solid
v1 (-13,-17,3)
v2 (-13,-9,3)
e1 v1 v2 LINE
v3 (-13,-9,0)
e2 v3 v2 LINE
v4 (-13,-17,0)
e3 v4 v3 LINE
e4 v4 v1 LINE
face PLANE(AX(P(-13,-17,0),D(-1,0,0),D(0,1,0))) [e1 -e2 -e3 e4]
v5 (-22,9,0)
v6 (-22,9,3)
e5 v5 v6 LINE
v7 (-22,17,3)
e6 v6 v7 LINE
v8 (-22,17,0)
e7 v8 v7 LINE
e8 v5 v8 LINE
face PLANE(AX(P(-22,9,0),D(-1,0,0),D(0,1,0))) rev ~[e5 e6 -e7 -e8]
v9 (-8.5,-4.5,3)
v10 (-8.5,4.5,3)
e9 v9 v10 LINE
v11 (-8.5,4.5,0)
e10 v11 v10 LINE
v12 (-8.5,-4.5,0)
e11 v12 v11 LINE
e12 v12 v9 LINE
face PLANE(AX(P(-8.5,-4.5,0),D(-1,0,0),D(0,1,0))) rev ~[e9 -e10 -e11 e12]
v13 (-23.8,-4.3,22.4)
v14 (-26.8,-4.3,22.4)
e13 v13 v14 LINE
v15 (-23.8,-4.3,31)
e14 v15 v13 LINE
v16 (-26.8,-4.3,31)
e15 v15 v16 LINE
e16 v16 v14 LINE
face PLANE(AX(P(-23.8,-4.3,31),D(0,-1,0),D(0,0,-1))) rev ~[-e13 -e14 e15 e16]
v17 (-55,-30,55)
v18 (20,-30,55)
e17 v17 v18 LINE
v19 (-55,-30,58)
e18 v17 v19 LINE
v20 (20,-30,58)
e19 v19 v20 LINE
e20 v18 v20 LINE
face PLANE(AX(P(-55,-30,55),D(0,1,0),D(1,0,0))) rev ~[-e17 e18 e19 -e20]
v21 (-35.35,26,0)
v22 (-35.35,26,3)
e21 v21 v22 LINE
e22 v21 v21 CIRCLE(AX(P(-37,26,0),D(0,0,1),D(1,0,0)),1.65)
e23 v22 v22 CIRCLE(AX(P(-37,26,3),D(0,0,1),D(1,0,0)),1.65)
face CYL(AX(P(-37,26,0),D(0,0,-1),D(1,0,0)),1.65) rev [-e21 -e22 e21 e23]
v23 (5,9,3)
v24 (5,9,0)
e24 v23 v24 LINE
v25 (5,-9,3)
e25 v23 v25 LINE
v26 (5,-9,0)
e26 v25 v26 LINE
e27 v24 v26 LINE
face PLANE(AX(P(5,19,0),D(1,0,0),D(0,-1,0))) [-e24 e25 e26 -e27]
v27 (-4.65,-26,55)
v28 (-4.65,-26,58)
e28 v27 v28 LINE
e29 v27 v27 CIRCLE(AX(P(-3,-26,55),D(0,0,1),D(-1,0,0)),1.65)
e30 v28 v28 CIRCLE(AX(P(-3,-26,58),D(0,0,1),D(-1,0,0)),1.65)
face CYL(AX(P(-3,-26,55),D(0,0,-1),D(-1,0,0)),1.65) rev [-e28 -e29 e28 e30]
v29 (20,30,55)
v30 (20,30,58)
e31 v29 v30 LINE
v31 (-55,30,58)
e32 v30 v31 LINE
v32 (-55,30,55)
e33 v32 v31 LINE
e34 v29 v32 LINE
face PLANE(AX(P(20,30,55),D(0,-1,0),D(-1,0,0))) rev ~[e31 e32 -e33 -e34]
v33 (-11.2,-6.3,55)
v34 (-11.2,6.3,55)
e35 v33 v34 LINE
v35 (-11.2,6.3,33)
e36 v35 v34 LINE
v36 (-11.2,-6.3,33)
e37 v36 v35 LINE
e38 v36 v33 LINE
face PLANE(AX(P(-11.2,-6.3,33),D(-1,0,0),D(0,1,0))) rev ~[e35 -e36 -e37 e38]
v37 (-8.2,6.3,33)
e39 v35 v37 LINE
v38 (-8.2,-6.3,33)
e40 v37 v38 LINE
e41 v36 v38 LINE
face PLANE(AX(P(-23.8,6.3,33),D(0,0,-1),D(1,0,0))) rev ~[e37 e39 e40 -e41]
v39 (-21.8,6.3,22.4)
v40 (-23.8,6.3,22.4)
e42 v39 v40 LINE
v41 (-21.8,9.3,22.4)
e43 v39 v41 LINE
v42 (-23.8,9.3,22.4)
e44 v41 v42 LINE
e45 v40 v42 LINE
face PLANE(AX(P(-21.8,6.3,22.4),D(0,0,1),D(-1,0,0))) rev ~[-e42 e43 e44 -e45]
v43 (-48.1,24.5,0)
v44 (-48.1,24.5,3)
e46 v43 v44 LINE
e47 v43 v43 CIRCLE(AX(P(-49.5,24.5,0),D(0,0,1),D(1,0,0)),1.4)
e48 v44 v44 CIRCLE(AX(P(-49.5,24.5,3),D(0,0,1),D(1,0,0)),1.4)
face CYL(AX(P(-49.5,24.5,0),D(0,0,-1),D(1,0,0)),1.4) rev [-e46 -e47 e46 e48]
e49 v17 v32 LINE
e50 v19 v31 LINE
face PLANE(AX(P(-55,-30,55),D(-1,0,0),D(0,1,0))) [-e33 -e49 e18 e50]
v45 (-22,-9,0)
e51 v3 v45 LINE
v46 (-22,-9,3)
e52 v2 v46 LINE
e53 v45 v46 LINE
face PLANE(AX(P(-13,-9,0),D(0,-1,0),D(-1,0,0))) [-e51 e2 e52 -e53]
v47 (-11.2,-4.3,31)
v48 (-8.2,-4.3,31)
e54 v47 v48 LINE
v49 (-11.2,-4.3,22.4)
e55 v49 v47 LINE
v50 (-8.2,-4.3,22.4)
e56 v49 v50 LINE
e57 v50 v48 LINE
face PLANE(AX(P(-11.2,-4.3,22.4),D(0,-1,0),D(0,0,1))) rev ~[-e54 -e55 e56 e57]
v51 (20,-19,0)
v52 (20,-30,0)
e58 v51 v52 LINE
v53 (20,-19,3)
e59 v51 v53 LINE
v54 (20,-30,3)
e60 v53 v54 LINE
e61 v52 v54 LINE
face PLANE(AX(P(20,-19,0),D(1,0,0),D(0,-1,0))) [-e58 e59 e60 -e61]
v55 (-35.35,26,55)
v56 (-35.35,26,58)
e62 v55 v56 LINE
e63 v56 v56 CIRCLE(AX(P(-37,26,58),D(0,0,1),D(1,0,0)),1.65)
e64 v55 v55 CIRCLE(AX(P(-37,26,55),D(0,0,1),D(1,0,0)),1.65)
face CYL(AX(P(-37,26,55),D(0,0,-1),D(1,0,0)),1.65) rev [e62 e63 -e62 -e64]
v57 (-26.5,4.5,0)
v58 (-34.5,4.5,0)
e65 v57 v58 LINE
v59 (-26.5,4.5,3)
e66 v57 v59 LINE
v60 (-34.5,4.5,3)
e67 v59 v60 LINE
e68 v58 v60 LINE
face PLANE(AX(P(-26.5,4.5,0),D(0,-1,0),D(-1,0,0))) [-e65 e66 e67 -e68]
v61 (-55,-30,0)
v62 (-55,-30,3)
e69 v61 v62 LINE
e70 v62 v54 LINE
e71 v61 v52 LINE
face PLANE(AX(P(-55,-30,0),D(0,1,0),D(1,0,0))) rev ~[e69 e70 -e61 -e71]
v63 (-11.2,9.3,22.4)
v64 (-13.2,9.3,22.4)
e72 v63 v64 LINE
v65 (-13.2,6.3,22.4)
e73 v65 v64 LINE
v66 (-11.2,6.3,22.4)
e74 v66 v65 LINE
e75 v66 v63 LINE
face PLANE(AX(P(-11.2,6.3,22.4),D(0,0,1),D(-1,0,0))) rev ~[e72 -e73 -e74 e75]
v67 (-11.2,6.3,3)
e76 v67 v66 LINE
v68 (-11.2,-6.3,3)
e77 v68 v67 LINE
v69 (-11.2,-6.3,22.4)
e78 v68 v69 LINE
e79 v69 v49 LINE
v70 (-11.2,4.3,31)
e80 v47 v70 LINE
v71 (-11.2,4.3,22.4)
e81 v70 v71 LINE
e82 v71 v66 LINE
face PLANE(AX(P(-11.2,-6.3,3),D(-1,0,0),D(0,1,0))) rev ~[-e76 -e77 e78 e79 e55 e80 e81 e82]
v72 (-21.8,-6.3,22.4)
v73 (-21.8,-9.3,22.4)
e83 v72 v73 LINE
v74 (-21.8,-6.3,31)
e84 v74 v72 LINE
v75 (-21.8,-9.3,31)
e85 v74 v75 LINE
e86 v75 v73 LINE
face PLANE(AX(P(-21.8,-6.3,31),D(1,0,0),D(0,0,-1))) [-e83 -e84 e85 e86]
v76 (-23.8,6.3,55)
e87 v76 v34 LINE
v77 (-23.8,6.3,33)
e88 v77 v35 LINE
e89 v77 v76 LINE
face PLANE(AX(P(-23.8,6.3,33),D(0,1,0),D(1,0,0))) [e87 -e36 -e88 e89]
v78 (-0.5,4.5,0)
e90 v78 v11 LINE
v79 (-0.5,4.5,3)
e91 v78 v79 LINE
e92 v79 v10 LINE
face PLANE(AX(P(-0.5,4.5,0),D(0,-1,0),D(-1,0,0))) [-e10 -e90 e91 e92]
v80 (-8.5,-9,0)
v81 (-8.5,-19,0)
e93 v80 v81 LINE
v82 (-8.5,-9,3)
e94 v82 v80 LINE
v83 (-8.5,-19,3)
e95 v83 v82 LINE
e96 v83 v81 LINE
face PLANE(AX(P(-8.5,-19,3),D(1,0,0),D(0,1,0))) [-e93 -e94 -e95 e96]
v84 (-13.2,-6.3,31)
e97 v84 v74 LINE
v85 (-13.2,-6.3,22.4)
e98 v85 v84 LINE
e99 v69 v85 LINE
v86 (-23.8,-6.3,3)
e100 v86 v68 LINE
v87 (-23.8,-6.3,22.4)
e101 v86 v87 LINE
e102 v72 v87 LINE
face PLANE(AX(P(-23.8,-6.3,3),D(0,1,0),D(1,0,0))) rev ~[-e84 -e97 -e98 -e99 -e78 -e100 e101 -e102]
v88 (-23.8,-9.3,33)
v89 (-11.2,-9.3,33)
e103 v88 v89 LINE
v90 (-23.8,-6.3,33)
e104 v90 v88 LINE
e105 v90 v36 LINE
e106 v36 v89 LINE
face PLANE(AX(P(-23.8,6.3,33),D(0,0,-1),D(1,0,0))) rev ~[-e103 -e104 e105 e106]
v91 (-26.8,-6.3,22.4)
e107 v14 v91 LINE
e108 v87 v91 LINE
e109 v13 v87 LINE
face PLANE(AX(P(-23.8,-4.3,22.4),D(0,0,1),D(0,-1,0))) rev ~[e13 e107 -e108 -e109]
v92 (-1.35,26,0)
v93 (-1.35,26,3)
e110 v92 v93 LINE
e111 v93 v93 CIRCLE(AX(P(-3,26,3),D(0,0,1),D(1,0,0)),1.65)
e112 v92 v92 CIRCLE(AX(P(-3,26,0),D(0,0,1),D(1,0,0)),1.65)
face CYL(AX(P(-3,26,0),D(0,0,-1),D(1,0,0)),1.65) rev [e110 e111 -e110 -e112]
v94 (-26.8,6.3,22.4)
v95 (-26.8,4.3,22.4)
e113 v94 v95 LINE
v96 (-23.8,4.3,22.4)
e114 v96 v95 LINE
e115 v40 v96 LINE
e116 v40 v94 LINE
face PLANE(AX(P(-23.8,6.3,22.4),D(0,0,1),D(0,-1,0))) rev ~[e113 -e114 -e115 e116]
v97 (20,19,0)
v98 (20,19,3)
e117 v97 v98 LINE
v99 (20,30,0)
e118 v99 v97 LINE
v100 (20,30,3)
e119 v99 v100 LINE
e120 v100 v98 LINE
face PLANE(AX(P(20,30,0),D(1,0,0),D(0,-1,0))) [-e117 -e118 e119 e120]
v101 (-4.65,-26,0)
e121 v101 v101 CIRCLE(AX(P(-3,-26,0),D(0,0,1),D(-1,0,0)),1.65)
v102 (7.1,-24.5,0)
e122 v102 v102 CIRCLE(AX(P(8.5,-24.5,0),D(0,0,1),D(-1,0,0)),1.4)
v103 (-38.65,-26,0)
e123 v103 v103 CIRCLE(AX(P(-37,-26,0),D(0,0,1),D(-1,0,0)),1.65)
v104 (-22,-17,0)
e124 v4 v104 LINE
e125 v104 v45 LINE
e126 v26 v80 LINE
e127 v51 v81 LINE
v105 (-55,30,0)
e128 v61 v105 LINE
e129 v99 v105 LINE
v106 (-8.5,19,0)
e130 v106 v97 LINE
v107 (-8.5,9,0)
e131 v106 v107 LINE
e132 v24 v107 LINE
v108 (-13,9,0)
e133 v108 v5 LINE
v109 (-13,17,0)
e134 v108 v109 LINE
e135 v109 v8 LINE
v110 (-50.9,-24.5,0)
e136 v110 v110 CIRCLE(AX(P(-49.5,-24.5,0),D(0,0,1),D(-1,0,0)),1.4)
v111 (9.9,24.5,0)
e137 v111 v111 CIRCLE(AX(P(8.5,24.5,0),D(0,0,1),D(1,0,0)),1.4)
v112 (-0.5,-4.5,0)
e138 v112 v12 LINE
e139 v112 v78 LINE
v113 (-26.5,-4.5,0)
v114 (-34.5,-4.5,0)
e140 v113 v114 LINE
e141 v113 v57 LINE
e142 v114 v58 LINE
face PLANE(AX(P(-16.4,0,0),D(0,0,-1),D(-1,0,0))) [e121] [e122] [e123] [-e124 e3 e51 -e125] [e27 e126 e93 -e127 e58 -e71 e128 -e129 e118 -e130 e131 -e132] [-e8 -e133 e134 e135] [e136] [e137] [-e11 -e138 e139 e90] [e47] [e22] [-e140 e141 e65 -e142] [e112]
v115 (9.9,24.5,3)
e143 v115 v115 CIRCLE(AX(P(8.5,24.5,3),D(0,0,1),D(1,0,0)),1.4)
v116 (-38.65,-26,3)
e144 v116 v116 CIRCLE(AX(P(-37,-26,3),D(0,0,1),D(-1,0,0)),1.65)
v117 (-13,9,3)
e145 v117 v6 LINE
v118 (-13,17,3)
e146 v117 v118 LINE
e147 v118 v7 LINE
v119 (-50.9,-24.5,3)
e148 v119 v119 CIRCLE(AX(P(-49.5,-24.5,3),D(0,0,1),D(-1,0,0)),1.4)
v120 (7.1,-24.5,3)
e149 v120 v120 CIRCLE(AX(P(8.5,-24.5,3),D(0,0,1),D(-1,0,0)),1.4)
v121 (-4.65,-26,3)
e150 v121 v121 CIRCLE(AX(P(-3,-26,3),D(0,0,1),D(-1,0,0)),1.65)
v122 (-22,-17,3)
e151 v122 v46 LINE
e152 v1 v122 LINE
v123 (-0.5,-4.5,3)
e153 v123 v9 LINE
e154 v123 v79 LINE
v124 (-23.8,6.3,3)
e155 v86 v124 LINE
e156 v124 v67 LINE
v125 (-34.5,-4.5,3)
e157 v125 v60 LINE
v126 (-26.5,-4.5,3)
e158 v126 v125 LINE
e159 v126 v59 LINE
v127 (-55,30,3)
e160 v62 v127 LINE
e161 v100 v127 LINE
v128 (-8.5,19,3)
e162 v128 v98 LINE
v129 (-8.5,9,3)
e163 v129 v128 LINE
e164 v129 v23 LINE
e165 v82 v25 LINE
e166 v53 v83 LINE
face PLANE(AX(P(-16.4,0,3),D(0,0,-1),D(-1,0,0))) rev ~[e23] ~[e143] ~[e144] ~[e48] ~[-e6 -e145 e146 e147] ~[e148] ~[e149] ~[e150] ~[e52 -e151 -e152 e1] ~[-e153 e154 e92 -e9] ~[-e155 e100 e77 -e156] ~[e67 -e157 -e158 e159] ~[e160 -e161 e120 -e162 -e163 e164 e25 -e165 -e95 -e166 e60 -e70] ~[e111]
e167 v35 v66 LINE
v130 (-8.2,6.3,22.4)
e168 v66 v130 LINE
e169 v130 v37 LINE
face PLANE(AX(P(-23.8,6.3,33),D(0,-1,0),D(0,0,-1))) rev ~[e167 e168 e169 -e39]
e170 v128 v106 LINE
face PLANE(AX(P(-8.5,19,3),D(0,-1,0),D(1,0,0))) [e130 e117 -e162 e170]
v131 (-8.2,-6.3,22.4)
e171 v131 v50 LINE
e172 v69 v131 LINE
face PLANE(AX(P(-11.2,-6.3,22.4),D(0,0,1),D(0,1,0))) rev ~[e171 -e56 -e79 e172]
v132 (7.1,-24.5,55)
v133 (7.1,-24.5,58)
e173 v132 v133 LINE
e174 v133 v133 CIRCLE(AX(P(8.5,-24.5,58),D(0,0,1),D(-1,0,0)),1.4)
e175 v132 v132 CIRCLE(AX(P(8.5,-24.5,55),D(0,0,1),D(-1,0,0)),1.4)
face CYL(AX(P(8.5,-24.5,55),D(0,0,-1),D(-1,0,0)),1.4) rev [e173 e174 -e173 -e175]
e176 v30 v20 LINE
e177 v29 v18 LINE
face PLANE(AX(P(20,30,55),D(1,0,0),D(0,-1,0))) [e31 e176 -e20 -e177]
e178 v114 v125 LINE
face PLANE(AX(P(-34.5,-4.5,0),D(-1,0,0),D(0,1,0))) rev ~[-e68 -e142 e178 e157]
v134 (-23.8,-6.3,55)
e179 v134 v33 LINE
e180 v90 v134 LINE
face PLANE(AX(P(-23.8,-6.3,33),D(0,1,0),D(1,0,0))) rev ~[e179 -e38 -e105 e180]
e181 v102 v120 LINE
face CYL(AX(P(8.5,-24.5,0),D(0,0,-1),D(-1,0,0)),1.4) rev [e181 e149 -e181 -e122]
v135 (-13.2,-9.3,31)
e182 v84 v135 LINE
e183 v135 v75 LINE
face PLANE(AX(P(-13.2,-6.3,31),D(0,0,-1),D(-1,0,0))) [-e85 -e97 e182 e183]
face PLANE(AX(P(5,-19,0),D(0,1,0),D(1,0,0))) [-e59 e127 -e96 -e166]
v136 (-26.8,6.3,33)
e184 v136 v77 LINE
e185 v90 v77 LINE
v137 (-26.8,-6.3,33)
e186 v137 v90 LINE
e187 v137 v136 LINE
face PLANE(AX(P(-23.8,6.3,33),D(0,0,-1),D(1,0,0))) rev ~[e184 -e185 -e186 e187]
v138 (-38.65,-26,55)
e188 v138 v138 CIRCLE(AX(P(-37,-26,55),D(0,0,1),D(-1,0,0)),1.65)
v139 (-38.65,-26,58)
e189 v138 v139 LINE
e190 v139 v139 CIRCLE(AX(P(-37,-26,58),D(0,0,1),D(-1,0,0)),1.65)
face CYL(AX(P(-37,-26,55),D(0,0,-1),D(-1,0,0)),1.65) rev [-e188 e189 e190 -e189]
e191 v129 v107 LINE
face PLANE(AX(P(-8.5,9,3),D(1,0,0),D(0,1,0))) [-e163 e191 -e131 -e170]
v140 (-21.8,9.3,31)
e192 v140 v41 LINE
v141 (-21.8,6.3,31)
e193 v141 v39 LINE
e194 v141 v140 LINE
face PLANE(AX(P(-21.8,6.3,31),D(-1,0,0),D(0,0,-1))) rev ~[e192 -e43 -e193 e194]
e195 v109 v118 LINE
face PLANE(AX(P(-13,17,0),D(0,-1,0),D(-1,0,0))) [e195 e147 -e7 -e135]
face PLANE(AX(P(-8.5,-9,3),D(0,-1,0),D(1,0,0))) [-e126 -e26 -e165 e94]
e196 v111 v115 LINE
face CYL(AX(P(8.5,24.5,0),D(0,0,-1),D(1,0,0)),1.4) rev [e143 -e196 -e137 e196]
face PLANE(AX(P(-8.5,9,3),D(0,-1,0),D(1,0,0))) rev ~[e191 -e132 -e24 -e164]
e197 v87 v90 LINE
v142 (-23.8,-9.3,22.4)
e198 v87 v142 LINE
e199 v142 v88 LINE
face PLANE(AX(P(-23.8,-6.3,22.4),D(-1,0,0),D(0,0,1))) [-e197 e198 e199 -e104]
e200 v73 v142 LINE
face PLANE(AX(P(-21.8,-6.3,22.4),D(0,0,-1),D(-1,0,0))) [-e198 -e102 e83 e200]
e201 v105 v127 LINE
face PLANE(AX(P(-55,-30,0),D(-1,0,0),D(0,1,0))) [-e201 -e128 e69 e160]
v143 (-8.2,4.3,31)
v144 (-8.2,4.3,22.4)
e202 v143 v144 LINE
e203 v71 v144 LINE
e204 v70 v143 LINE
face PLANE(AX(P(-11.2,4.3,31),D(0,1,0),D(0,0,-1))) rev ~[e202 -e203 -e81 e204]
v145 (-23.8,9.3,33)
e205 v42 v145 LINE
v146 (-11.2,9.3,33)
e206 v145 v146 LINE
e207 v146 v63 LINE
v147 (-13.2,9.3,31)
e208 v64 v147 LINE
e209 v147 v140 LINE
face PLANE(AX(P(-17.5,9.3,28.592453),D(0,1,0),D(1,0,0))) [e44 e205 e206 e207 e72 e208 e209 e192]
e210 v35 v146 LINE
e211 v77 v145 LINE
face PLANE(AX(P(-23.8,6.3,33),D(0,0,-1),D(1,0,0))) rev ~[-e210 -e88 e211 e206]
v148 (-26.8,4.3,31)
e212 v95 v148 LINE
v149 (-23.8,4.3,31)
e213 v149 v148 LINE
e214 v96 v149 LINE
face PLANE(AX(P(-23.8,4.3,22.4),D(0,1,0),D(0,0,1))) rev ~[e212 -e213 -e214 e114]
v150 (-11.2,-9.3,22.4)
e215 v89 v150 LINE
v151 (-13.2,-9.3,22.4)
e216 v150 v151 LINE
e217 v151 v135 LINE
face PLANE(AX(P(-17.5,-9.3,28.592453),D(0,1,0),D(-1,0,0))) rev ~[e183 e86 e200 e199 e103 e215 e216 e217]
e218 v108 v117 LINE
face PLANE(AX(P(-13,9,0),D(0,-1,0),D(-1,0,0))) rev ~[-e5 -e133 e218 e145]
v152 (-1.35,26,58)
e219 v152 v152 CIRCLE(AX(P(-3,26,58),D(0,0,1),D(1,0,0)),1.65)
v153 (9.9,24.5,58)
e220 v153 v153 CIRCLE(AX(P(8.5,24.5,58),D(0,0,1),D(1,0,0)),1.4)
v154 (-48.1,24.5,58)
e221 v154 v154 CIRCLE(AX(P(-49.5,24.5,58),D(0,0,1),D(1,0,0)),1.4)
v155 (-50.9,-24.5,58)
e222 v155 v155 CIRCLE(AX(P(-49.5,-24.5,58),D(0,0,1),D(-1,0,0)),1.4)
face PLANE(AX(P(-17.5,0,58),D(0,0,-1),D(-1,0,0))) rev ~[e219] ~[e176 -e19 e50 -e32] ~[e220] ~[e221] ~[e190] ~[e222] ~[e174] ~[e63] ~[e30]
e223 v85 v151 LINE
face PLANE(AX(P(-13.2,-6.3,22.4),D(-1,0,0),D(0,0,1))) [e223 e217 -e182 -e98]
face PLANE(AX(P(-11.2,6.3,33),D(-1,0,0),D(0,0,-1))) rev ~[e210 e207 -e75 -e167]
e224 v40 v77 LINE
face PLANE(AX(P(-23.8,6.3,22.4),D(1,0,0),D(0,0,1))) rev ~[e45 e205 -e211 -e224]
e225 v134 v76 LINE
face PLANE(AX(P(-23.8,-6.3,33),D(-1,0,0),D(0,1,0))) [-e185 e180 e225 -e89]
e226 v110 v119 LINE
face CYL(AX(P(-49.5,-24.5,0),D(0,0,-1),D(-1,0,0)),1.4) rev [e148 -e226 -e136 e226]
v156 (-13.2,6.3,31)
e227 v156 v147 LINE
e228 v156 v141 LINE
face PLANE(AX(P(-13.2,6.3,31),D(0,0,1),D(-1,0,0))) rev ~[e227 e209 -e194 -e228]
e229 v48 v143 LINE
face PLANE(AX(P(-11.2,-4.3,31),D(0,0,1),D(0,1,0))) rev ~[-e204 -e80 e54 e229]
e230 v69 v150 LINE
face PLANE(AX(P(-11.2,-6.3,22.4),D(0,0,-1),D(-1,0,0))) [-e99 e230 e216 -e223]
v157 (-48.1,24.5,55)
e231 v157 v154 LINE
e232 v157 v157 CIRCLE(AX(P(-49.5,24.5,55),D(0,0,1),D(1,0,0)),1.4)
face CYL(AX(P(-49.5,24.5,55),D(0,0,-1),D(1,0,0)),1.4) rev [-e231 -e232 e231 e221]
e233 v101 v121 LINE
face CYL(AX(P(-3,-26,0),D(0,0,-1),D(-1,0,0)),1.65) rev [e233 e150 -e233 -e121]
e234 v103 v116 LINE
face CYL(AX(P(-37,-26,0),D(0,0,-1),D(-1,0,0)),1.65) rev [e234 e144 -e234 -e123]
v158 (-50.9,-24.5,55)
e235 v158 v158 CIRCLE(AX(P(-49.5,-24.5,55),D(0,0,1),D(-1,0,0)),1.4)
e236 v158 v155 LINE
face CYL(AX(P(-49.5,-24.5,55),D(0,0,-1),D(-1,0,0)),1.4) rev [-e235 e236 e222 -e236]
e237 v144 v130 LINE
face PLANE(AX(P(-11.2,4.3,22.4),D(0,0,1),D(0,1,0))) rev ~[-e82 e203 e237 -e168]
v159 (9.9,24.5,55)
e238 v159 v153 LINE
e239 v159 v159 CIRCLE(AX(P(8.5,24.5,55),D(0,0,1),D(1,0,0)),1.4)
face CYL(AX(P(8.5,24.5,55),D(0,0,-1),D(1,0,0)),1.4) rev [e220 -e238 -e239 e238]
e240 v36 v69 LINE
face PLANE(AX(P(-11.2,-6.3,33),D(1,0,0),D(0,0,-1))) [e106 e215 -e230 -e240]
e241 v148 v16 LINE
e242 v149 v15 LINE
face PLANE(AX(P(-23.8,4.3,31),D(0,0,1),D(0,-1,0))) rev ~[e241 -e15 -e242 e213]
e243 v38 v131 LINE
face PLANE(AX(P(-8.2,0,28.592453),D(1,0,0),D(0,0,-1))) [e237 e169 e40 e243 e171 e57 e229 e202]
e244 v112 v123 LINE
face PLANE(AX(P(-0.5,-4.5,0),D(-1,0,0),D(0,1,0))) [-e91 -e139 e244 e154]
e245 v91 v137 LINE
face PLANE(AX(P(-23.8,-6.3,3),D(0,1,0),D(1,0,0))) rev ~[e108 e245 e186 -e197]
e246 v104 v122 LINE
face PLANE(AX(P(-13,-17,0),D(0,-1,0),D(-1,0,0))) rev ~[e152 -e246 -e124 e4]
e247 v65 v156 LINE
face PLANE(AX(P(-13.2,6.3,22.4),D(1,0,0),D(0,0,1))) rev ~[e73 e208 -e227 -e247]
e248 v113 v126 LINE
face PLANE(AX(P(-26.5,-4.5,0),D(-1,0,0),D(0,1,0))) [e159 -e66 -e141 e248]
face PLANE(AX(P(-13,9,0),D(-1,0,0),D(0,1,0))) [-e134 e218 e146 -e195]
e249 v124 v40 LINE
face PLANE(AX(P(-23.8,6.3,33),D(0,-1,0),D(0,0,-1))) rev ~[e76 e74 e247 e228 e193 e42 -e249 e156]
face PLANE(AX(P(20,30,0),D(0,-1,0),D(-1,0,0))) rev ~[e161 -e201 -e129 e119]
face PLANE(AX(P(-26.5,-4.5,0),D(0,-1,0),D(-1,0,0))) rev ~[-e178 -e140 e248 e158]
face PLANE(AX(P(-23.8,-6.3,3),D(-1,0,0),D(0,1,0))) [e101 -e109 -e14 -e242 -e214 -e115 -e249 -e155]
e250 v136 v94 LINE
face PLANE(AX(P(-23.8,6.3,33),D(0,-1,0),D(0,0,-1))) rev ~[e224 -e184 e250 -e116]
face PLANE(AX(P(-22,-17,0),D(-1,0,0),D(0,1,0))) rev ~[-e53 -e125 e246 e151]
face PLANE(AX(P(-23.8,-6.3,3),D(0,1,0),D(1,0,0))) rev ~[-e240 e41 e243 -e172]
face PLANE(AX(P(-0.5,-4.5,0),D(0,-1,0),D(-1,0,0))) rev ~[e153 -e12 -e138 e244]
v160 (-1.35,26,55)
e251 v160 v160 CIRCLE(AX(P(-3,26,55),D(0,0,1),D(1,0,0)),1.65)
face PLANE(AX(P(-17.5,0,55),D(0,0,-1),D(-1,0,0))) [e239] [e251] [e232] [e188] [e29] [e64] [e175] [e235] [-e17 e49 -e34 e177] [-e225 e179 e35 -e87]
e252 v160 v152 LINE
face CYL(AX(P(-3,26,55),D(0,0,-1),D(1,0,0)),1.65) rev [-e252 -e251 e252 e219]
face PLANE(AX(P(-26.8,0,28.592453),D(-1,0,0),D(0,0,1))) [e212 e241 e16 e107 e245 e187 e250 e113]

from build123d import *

# Parameters (mm, degrees)
SKETCH_4_R          = 1.4
SKETCH_4_R_2        = 1.65
EXTRUDE_1_DEPTH     = 3
SKETCH_5_W          = 12.6
SKETCH_5_H          = 12.6
EXTRUDE_2_DEPTH     = 30
SKETCH_6_W          = 9
SKETCH_6_H          = 8
SKETCH_6_W_2        = 8
SKETCH_6_H_2        = 9
CUT_EXTRUDE_2_DEPTH = 71.809603868
EXTRUDE_3_DEPTH     = 3
EXTRUDE_4_DEPTH     = 3
EXTRUDE_5_DEPTH     = 3
EXTRUDE_6_DEPTH     = 3
SKETCH_13_W         = 12.6
SKETCH_13_H         = 12.6
EXTRUDE_7_DEPTH     = 22
SKETCH_14_R         = 1.4
SKETCH_14_R_2       = 1.65
EXTRUDE_8_DEPTH     = 3
SKETCH_15_W         = 13.5
SKETCH_15_H         = 10
CUT_EXTRUDE_3_DEPTH = 84.366660003


with BuildPart() as part:
    # 草图4 → 凸台-拉伸1 (new body)
    with BuildSketch(Plane.XY):
        Polygon((-39, 30), (20, 30), (20, 19), (5, 19), (5, -19), (20, -19), (20, -30), (-39, -30), (-55, -30), (-55, 30), align=None)
        with Locations((-49.5, 24.5)):
            Circle(SKETCH_4_R, mode=Mode.SUBTRACT)
        with Locations((8.5, 24.5)):
            Circle(SKETCH_4_R, mode=Mode.SUBTRACT)
        with Locations((-3, 26)):
            Circle(SKETCH_4_R_2, mode=Mode.SUBTRACT)
        with Locations((-37, 26)):
            Circle(SKETCH_4_R_2, mode=Mode.SUBTRACT)
        with Locations(Location((-37, -26, 0), (0, 0, 180))):
            Circle(SKETCH_4_R_2, mode=Mode.SUBTRACT)
        with Locations(Location((-3, -26, 0), (0, 0, 180))):
            Circle(SKETCH_4_R_2, mode=Mode.SUBTRACT)
        with Locations(Location((8.5, -24.5, 0), (0, 0, 180))):
            Circle(SKETCH_4_R, mode=Mode.SUBTRACT)
        with Locations(Location((-49.5, -24.5, 0), (0, 0, 180))):
            Circle(SKETCH_4_R, mode=Mode.SUBTRACT)
    extrude(amount=EXTRUDE_1_DEPTH)

    # 草图5 → 凸台-拉伸2 (add)
    with BuildSketch(Plane.XY.offset(3)):
        with Locations((-17.5, 0)):
            Rectangle(SKETCH_5_W, SKETCH_5_H)
    extrude(amount=EXTRUDE_2_DEPTH)

    # 草图6 → 切除-拉伸2 (cut, through all)
    with BuildSketch(Plane(origin=(0, 0, 0), x_dir=(-1, 0, 0), z_dir=(0, 0, -1))):
        with Locations((17.5, 13)):
            Rectangle(SKETCH_6_W, SKETCH_6_H)
        with Locations((30.5, 0)):
            Rectangle(SKETCH_6_W_2, SKETCH_6_H_2)
        with Locations((17.5, -13)):
            Rectangle(SKETCH_6_W, SKETCH_6_H)
        with Locations((4.5, 0)):
            Rectangle(SKETCH_6_W_2, SKETCH_6_H_2)
    extrude(amount=-CUT_EXTRUDE_2_DEPTH, mode=Mode.SUBTRACT)

    # 草图8 → 凸台-拉伸3 (add)
    with BuildSketch(Plane(origin=(-11.2, 0, 0), x_dir=(0, 0, -1), z_dir=(1, 0, 0))):
        Polygon((-31, 4.3), (-22.4, 4.3), (-22.4, 6.3), (-33, 6.3), (-33, -6.3), (-22.4, -6.3), (-22.4, -4.3), (-31, -4.3), align=None)
    extrude(amount=EXTRUDE_3_DEPTH)

    # 草图10 → 凸台-拉伸4 (add)
    with BuildSketch(Plane.ZY.offset(23.8)):
        Polygon((22.4, 6.3), (22.4, 4.3), (31, 4.3), (31, -4.3), (22.4, -4.3), (22.4, -6.3), (33, -6.3), (33, 6.3), align=None)
    extrude(amount=EXTRUDE_4_DEPTH)

    # 草图11 → 凸台-拉伸5 (add)
    with BuildSketch(Plane.XZ.offset(6.3)):
        Polygon((-23.8, 22.4), (-23.8, 33), (-11.2, 33), (-11.2, 22.4), (-13.2, 22.4), (-13.2, 31), (-21.8, 31), (-21.8, 22.4), align=None)
    extrude(amount=EXTRUDE_5_DEPTH)

    # 草图12 → 凸台-拉伸6 (add)
    with BuildSketch(Plane(origin=(0, 6.3, 0), x_dir=(1, 0, 0), z_dir=(0, 1, 0))):
        Polygon((-23.8, -22.4), (-23.8, -33), (-11.2, -33), (-11.2, -22.4), (-13.2, -22.4), (-13.2, -31), (-21.8, -31), (-21.8, -22.4), align=None)
    extrude(amount=EXTRUDE_6_DEPTH)

    # 草图13 → 凸台-拉伸7 (add)
    with BuildSketch(Plane.XY.offset(33)):
        with Locations((-17.5, 0)):
            Rectangle(SKETCH_13_W, SKETCH_13_H)
    extrude(amount=EXTRUDE_7_DEPTH)

    # 草图14 → 凸台-拉伸8 (add)
    with BuildSketch(Plane.XY.offset(55)):
        Polygon((-39, 30), (20, 30), (20, -30), (-39, -30), (-55, -30), (-55, 30), align=None)
        with Locations((-49.5, 24.5)):
            Circle(SKETCH_14_R, mode=Mode.SUBTRACT)
        with Locations((8.5, 24.5)):
            Circle(SKETCH_14_R, mode=Mode.SUBTRACT)
        with Locations((-3, 26)):
            Circle(SKETCH_14_R_2, mode=Mode.SUBTRACT)
        with Locations((-37, 26)):
            Circle(SKETCH_14_R_2, mode=Mode.SUBTRACT)
        with Locations(Location((-37, -26, 0), (0, 0, 180))):
            Circle(SKETCH_14_R_2, mode=Mode.SUBTRACT)
        with Locations(Location((-3, -26, 0), (0, 0, 180))):
            Circle(SKETCH_14_R_2, mode=Mode.SUBTRACT)
        with Locations(Location((8.5, -24.5, 0), (0, 0, 180))):
            Circle(SKETCH_14_R, mode=Mode.SUBTRACT)
        with Locations(Location((-49.5, -24.5, 0), (0, 0, 180))):
            Circle(SKETCH_14_R, mode=Mode.SUBTRACT)
    extrude(amount=EXTRUDE_8_DEPTH)

    # 草图15 → 切除-拉伸3 (cut, through all)
    with BuildSketch(Plane.XY.offset(3)):
        with Locations((-1.75, 14)):
            Rectangle(SKETCH_15_W, SKETCH_15_H)
        with Locations((-1.75, -14)):
            Rectangle(SKETCH_15_W, SKETCH_15_H)
    extrude(amount=-CUT_EXTRUDE_3_DEPTH, mode=Mode.SUBTRACT)


solid = part.part
